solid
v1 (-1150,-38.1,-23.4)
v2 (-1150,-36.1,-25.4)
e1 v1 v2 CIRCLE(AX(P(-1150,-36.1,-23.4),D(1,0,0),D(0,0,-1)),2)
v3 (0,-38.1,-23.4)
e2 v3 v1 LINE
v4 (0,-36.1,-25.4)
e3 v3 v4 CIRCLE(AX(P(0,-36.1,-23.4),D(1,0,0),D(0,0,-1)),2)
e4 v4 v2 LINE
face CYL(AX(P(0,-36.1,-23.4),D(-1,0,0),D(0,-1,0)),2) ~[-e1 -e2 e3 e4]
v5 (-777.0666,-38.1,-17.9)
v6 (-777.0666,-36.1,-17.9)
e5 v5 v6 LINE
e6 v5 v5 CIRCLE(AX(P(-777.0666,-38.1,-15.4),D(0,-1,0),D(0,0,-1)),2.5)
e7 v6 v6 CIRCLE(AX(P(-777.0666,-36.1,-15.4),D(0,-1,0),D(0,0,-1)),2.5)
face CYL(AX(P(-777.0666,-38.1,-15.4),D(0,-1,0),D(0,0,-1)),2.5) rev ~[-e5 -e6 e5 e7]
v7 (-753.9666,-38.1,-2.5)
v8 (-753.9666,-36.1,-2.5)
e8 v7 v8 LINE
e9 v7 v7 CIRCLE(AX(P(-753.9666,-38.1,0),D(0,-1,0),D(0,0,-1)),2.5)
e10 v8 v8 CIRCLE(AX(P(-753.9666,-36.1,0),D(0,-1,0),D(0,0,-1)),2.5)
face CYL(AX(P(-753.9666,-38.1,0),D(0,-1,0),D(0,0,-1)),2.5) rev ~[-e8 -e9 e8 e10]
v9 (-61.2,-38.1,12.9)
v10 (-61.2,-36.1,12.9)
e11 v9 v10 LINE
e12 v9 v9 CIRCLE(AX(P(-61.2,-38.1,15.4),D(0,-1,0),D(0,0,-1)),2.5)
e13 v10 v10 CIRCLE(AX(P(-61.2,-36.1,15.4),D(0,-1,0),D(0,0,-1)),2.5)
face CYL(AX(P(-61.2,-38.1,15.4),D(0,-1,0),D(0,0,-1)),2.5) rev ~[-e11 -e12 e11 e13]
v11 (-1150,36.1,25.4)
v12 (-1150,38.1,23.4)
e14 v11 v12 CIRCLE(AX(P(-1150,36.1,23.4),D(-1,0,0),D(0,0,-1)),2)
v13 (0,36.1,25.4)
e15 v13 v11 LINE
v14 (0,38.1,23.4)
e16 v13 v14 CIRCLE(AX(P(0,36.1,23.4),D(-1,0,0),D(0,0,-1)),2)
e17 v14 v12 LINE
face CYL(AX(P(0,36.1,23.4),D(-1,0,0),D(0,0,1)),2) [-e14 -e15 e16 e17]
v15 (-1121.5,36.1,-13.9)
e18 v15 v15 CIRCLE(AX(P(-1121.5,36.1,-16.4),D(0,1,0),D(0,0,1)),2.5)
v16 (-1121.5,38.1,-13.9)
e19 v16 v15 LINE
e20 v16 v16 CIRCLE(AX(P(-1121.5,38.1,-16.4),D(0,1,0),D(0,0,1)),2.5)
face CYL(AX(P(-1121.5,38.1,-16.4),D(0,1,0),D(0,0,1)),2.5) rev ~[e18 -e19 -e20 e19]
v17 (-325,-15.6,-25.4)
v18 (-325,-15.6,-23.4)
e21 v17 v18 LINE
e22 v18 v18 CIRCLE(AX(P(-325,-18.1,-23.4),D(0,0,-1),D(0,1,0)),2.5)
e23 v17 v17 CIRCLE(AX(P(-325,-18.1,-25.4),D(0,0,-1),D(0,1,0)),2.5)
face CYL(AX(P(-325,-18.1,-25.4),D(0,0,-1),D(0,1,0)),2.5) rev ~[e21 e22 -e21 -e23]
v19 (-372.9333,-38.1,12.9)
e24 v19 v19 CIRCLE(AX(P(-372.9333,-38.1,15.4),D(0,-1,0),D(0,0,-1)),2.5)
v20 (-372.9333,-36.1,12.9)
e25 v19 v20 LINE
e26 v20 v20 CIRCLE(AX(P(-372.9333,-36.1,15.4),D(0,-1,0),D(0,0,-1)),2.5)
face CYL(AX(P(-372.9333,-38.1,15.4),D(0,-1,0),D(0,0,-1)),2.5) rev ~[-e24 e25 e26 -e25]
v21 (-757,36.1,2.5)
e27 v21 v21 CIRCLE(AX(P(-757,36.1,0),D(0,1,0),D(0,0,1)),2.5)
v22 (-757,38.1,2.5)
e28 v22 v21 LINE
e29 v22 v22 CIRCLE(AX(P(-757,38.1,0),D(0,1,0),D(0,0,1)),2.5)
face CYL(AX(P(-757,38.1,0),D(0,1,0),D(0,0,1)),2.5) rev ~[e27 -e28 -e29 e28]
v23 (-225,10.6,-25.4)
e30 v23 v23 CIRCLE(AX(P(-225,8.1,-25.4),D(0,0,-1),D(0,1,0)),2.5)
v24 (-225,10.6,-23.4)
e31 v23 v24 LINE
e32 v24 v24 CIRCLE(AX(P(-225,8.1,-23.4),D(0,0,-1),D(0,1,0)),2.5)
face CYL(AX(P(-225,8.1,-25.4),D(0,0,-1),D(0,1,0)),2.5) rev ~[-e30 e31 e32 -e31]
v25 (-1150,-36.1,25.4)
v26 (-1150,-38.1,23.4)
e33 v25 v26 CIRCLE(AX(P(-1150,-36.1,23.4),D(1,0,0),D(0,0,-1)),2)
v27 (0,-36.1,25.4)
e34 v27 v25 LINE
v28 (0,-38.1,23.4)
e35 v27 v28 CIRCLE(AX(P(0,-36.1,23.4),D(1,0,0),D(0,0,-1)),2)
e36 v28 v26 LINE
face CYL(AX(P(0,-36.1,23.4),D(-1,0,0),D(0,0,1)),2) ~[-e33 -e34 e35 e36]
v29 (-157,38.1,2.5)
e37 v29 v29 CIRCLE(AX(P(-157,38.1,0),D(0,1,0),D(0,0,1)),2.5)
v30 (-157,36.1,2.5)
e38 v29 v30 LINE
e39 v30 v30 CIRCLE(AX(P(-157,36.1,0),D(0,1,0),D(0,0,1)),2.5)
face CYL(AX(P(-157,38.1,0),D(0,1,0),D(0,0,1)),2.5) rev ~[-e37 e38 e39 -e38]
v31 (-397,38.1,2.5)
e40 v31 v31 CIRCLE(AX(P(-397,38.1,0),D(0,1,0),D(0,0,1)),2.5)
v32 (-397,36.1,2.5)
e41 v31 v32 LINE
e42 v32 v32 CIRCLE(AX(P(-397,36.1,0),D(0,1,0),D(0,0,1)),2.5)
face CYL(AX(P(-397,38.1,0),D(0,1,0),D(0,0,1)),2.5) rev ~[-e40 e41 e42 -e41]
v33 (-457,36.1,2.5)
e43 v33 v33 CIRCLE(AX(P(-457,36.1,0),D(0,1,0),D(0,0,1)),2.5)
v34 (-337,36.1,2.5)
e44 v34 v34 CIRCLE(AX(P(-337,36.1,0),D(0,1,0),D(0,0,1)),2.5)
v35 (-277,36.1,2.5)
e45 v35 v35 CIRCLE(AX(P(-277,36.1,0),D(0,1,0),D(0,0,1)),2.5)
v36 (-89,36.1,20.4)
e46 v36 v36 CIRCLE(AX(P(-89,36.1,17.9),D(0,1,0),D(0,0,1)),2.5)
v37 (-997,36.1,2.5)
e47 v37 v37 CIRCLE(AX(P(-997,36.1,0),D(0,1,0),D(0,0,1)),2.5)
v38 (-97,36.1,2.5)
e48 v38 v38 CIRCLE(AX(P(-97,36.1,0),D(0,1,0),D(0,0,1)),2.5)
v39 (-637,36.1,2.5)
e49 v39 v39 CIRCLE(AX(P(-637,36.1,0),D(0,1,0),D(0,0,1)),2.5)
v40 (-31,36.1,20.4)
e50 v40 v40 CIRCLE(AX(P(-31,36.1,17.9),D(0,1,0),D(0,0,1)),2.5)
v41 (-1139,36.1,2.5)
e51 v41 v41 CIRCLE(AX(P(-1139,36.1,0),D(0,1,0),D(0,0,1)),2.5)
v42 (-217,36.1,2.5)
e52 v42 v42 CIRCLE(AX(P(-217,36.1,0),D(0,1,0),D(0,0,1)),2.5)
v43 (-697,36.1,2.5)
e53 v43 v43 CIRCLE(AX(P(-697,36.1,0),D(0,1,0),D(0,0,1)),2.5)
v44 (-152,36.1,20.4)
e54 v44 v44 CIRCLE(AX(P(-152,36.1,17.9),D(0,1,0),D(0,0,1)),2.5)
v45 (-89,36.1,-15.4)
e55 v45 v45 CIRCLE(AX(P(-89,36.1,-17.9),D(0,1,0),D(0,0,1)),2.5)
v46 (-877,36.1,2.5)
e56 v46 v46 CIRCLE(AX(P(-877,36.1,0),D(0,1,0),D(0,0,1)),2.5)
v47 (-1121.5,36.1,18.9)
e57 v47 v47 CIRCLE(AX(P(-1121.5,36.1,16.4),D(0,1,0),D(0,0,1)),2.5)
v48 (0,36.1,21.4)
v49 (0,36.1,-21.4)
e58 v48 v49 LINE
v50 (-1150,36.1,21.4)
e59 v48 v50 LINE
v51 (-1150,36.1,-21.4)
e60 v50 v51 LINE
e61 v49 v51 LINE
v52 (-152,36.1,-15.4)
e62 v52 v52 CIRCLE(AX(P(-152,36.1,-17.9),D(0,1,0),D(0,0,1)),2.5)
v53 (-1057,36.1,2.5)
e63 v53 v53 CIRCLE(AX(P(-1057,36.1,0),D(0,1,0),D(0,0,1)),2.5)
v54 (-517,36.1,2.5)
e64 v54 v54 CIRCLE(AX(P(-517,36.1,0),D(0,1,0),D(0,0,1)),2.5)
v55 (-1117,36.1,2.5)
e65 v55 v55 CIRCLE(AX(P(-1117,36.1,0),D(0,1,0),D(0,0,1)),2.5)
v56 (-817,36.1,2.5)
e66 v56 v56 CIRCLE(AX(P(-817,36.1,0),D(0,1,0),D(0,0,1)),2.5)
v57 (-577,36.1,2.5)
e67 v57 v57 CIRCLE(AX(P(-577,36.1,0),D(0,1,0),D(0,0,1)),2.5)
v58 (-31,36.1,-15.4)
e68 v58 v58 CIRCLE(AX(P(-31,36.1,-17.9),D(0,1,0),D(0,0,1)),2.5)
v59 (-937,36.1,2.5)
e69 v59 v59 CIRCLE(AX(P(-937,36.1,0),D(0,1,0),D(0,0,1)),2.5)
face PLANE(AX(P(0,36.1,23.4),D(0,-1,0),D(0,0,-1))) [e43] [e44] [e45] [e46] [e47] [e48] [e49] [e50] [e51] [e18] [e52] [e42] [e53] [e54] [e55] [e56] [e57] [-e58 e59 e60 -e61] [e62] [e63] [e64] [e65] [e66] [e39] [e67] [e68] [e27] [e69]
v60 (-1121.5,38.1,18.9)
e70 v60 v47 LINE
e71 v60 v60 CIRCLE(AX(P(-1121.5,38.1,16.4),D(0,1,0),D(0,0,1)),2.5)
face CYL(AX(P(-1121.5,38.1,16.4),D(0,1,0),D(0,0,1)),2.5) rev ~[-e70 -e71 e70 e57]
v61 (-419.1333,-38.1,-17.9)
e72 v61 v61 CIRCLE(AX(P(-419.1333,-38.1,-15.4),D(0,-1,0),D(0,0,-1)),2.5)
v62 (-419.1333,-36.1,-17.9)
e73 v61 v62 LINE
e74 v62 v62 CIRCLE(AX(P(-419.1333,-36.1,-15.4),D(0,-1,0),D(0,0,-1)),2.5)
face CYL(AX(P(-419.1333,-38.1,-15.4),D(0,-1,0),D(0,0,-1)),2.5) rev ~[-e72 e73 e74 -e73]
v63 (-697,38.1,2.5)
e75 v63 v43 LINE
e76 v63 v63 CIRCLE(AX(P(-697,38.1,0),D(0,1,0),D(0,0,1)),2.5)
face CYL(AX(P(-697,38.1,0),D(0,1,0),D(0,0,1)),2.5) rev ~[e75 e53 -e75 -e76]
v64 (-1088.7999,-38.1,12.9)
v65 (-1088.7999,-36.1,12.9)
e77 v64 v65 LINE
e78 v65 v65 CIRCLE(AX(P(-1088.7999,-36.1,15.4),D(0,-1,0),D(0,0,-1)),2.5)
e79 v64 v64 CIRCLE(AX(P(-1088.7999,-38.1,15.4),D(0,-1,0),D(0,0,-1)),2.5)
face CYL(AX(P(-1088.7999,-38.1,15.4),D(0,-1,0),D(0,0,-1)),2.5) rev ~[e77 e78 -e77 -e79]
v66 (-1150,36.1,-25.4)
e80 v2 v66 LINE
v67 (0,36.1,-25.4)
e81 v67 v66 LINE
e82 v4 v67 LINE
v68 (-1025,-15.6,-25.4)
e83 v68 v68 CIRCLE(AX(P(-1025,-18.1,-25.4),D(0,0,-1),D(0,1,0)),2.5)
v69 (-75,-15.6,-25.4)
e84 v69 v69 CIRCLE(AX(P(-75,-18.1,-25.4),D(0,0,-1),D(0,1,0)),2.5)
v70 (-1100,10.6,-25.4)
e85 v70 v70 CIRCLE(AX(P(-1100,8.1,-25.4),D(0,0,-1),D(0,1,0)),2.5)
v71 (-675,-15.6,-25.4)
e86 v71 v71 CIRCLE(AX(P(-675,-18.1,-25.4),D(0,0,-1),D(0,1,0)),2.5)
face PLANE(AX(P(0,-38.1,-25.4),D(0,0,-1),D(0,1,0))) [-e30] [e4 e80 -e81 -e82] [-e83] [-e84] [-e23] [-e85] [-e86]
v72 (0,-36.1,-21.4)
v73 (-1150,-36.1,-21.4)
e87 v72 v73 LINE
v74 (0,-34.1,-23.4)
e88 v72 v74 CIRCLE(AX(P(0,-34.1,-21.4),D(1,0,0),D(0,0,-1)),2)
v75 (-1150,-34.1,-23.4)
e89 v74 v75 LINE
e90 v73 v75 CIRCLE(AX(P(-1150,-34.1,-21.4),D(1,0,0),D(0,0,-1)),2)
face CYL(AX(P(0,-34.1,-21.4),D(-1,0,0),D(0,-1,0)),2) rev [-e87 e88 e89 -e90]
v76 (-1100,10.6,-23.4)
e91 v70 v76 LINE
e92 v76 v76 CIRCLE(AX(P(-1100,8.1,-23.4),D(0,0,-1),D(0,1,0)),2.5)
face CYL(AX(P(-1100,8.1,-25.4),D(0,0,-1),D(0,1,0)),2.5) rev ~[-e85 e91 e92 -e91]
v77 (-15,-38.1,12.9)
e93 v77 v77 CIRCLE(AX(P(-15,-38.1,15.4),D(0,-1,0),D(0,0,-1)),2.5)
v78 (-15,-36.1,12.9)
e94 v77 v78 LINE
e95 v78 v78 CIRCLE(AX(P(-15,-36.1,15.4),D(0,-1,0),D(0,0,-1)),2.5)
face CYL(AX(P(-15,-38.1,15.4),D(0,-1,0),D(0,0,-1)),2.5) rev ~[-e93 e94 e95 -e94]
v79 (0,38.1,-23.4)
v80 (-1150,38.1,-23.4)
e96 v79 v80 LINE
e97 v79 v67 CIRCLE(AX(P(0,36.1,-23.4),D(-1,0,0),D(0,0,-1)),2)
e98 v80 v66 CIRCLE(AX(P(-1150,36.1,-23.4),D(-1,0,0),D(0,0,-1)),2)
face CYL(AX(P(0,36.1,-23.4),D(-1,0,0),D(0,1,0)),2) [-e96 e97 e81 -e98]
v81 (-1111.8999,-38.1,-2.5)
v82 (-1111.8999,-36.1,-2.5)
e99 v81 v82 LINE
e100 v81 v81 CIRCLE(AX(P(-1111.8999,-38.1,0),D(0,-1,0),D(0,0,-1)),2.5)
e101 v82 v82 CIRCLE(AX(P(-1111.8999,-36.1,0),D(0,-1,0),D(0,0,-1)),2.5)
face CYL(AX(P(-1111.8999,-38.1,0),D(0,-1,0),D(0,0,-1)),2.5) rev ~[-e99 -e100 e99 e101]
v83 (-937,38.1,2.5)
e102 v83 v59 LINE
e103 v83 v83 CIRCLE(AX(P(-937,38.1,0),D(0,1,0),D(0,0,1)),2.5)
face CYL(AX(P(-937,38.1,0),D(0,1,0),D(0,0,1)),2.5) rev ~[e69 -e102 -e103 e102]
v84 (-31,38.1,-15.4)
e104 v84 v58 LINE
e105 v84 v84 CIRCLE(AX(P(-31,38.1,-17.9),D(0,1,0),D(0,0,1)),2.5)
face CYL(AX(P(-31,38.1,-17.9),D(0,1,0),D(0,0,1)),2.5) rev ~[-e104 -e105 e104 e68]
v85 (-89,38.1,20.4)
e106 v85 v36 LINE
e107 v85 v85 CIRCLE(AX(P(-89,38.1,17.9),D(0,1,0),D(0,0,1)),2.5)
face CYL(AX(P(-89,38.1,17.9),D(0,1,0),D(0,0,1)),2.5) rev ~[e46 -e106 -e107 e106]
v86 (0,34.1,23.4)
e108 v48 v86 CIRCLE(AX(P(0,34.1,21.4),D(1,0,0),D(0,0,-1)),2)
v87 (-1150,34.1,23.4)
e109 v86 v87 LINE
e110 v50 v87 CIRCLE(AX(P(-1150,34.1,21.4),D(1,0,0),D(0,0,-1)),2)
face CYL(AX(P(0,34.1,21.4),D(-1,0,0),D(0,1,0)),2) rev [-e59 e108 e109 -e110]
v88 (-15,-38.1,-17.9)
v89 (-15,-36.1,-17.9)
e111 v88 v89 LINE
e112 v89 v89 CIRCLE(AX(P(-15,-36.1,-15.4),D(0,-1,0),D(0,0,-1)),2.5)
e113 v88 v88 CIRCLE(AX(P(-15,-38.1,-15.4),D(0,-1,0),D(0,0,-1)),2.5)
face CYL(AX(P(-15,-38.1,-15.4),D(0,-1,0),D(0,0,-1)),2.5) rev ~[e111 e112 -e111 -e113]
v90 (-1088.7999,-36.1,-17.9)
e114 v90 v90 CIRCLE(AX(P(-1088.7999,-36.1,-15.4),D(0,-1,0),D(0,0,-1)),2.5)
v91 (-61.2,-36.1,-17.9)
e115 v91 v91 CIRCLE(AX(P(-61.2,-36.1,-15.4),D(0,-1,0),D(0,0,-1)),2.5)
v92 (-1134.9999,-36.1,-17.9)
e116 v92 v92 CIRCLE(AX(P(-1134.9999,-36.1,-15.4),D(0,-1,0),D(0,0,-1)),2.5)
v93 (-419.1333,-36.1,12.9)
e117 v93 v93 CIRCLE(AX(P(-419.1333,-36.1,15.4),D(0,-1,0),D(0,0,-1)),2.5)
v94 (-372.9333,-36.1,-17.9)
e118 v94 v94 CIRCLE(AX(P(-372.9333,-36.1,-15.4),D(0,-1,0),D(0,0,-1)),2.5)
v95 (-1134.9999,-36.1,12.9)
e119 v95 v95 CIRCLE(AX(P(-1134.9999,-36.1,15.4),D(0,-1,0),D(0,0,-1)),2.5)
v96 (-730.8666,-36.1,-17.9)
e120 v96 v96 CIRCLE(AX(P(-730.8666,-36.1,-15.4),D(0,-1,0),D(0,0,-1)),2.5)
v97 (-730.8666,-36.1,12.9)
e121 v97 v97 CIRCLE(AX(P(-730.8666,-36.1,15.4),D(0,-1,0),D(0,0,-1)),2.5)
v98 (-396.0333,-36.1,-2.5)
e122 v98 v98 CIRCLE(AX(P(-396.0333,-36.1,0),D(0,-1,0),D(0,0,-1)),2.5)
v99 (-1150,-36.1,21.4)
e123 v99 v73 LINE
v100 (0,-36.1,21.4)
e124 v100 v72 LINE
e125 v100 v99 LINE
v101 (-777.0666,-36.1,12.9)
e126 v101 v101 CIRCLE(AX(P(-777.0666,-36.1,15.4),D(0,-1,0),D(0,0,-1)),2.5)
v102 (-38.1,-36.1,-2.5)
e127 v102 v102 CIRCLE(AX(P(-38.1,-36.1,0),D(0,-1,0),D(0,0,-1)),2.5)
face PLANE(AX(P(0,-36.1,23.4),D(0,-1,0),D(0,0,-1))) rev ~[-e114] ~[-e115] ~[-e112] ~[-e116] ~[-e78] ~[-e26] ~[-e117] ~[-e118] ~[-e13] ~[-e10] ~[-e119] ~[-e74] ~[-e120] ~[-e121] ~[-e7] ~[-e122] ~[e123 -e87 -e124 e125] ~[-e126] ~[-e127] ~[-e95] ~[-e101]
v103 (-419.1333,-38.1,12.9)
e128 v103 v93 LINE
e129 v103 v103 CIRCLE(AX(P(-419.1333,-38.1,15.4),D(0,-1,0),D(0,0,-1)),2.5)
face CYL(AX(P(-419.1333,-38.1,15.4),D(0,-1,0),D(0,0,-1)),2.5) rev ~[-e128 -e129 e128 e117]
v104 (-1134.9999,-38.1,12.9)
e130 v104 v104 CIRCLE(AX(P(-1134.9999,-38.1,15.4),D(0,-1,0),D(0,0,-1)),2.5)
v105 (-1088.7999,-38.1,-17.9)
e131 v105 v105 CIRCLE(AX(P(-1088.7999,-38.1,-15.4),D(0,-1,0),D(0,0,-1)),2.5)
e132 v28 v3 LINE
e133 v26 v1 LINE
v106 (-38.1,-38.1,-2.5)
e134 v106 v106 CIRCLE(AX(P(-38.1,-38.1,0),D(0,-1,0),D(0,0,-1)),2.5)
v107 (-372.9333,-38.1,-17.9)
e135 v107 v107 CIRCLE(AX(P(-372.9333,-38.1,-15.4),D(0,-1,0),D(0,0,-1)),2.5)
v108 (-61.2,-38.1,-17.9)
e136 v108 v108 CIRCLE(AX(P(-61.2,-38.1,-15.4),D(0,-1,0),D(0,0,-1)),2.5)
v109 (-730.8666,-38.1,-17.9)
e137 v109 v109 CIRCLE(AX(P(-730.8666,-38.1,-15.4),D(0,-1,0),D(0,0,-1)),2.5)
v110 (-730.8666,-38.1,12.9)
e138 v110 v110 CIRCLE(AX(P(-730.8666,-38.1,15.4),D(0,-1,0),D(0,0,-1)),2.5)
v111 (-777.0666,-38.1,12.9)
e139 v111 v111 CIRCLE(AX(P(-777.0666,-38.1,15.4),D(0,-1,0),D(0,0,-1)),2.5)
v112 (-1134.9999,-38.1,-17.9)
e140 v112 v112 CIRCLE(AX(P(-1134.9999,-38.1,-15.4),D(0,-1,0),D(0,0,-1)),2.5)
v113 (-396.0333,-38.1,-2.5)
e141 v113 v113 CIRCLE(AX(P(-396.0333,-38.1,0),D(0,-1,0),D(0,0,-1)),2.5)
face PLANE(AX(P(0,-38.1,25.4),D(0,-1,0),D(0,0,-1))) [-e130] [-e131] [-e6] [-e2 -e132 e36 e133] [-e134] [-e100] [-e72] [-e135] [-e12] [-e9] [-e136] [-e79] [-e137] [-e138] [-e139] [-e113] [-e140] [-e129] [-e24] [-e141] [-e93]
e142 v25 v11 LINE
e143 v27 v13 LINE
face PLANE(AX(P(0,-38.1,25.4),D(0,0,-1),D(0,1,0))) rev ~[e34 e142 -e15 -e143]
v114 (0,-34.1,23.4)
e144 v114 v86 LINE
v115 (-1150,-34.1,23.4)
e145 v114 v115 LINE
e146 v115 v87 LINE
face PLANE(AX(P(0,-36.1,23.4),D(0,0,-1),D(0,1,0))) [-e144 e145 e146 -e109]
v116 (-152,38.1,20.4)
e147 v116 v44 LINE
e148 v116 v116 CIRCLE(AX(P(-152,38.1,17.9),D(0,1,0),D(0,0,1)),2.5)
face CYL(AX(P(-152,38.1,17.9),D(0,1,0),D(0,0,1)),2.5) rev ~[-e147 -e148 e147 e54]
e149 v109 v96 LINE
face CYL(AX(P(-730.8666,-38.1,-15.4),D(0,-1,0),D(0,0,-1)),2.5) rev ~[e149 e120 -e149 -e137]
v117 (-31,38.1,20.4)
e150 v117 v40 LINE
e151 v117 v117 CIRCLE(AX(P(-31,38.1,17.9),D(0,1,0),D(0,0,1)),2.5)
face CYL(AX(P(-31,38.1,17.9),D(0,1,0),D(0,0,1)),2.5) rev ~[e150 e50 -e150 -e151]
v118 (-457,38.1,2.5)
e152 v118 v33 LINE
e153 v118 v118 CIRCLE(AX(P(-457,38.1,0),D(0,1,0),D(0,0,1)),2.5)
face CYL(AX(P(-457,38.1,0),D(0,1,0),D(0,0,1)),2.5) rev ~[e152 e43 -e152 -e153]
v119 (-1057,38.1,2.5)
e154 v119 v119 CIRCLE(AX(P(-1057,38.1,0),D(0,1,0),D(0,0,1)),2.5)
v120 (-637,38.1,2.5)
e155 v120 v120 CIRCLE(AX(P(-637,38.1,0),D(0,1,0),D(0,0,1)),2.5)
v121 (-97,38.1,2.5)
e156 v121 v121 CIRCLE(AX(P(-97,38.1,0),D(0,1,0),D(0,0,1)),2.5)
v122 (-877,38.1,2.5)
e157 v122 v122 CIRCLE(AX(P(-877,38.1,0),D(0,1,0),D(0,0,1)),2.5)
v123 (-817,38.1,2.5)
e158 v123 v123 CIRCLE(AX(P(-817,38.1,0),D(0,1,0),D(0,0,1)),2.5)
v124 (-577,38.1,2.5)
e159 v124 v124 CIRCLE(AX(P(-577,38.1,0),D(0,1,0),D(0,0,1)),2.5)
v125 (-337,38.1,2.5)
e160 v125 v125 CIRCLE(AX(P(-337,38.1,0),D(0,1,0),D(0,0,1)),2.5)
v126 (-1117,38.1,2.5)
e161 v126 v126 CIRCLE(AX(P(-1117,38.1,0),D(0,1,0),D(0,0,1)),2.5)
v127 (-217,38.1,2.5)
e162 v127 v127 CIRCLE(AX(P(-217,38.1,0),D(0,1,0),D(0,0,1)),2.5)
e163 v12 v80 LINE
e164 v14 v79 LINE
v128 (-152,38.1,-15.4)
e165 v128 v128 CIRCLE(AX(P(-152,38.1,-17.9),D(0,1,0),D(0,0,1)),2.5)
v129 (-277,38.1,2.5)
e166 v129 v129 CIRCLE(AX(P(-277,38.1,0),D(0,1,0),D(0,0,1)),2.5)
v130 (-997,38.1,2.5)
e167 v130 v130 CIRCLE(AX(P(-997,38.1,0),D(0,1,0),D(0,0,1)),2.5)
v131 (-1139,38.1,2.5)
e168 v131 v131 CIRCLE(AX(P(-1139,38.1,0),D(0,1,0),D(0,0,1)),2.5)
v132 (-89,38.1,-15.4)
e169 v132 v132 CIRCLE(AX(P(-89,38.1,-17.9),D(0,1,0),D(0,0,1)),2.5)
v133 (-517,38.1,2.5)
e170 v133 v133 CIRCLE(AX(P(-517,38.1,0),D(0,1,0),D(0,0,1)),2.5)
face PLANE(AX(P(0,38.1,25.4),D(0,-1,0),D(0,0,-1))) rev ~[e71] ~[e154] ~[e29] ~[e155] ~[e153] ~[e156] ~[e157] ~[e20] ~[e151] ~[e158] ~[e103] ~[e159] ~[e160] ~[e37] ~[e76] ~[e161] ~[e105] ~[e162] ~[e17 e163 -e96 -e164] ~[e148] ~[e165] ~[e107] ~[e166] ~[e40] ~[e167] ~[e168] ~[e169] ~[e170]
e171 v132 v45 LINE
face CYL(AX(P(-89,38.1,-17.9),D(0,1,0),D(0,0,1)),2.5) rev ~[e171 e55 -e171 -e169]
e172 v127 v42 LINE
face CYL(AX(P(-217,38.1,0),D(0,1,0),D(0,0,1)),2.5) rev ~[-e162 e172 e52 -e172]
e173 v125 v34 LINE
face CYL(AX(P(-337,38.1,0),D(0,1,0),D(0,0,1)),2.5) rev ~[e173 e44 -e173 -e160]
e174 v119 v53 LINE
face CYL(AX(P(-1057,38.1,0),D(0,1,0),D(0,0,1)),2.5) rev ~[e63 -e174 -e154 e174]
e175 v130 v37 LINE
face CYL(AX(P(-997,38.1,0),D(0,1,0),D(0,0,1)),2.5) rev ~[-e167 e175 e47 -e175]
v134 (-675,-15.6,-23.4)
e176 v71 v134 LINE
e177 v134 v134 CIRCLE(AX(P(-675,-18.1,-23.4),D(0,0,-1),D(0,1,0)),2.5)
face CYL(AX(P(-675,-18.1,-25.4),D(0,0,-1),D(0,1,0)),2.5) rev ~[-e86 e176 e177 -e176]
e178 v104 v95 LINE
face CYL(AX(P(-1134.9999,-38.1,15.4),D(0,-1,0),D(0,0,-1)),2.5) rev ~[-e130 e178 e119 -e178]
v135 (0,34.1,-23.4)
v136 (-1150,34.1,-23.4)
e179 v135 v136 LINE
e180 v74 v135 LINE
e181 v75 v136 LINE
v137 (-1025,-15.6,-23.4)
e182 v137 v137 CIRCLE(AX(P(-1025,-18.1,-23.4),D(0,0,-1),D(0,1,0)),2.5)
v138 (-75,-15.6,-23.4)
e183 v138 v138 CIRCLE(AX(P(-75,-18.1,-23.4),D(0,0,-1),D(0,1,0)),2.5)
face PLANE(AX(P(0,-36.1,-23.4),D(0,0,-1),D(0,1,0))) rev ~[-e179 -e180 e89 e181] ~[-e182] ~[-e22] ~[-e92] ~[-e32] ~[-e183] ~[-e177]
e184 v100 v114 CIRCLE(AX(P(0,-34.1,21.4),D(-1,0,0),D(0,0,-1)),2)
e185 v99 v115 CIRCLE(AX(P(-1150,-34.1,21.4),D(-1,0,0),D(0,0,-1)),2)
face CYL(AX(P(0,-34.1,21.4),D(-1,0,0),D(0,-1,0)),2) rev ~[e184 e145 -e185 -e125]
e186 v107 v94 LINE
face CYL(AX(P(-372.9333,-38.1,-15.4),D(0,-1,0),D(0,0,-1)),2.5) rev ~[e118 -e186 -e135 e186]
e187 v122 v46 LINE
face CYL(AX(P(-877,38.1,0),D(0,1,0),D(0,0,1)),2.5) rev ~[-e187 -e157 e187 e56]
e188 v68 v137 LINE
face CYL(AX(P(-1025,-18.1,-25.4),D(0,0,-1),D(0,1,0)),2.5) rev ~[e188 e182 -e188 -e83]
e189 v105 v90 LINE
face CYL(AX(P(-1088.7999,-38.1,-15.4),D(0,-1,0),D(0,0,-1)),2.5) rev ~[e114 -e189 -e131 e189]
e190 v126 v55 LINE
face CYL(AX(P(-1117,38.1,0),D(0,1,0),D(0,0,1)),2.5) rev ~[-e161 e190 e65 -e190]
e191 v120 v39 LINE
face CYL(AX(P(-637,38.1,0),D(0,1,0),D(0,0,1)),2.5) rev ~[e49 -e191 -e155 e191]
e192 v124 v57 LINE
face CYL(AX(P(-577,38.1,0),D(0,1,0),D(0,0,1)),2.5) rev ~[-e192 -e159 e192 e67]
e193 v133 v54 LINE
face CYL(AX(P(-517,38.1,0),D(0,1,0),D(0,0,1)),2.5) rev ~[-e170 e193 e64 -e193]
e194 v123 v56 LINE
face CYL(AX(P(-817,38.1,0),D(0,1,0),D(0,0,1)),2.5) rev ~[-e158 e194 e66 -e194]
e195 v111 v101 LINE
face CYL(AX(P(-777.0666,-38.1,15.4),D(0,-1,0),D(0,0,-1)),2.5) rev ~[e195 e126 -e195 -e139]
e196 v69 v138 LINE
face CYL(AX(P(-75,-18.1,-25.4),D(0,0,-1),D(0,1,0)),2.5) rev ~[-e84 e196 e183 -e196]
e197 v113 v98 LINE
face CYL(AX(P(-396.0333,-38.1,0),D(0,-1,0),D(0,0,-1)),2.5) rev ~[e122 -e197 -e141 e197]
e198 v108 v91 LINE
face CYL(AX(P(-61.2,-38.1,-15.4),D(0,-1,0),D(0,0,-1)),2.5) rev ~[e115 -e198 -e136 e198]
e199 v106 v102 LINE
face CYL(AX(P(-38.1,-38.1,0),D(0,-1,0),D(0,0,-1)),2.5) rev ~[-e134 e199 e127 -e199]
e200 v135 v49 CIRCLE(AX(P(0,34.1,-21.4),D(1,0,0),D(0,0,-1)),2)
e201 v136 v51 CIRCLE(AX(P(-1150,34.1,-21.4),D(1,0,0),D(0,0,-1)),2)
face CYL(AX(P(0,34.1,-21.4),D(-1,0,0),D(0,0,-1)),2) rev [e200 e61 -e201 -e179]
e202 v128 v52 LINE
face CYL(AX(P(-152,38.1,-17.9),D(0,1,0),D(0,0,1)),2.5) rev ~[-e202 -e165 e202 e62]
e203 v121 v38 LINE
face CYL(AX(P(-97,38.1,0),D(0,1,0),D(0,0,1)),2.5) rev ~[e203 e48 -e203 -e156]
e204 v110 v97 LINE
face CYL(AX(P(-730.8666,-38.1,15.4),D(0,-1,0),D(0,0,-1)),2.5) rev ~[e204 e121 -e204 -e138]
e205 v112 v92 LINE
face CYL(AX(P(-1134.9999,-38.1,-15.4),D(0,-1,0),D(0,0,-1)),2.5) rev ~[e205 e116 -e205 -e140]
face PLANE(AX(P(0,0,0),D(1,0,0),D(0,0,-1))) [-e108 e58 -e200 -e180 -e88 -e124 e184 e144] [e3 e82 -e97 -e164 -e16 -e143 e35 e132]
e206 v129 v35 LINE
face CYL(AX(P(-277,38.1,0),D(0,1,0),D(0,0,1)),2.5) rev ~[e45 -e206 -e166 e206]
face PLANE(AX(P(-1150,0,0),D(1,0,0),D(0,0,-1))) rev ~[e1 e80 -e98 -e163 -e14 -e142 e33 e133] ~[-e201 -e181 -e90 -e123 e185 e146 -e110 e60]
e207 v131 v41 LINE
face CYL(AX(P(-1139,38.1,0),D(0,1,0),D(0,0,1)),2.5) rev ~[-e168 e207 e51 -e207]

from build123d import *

# Parameters (mm, degrees)
SKETCH1_W             = 50.8
SKETCH1_H             = 76.2
BOSS_EXTRUDE1_DEPTH   = 1150
SKETCH2_W             = 46.8
SKETCH2_H             = 72.2
CUT_EXTRUDE1_DEPTH    = 1151.911278075
FILLET2_R             = 2
CROQUIS1_R            = 2.5
CORTAR_EXTRUIR1_DEPTH = 5
MATRIZL1_COUNT        = 4
MATRIZL1_PITCH        = 357.9333
CROQUIS2_R            = 2.5
CORTAR_EXTRUIR2_DEPTH = 10
CROQUIS3_R            = 2.5
CORTAR_EXTRUIR3_DEPTH = 10
CROQUIS4_R            = 2.5
CORTAR_EXTRUIR4_DEPTH = 10
MATRIZL2_COUNT        = 18
MATRIZL2_PITCH        = 60
CROQUIS5_R            = 2.5
CORTAR_EXTRUIR5_DEPTH = 10


with BuildPart() as part:
    # Sketch1 → Boss-Extrude1 (new body)
    with BuildSketch(Plane(origin=(0, 0, 0), x_dir=(0, 0, -1), z_dir=(1, 0, 0))):
        Rectangle(SKETCH1_W, SKETCH1_H)
    extrude(amount=-BOSS_EXTRUDE1_DEPTH)

    # Sketch2 → Cut-Extrude1 (cut, through all)
    with BuildSketch(Plane(origin=(0, 0, 0), x_dir=(0, 0, -1), z_dir=(1, 0, 0))):
        Rectangle(SKETCH2_W, SKETCH2_H)
    extrude(amount=-CUT_EXTRUDE1_DEPTH, mode=Mode.SUBTRACT)

    # Fillet2
    fillet2_edges = [part.edges().sort_by_distance(p)[0] for p in [
        (-575, -36.1, 23.4),
        (-575, 36.1, 23.4),
        (-575, 36.1, -23.4),
        (-575, -36.1, -23.4),
        (-575, 38.1, 25.4),
        (-575, 38.1, -25.4),
        (-575, -38.1, -25.4),
        (-575, -38.1, 25.4),
    ]]
    fillet(fillet2_edges, radius=FILLET2_R)

    # Croquis1 → Cortar-Extruir1 (cut)
    with BuildSketch(Plane.XZ.offset(38.1)):
        with Locations(Location((-38.1, 0, 0), (0, 0, 270))):
            Circle(CROQUIS1_R)
        with Locations(Location((-61.2, 15.4, 0), (0, 0, 270))):
            Circle(CROQUIS1_R)
        with Locations(Location((-15, 15.4, 0), (0, 0, 270))):
            Circle(CROQUIS1_R)
        with Locations(Location((-15, -15.4, 0), (0, 0, 270))):
            Circle(CROQUIS1_R)
        with Locations(Location((-61.2, -15.4, 0), (0, 0, 270))):
            Circle(CROQUIS1_R)
    cortar_extruir1 = extrude(amount=-CORTAR_EXTRUIR1_DEPTH, mode=Mode.SUBTRACT)

    # MatrizL1: Cortar-Extruir1 ×4
    with Locations(*[(-i * MATRIZL1_PITCH, 0, 0) for i in range(1, MATRIZL1_COUNT)]):
        add(cortar_extruir1, mode=Mode.SUBTRACT)

    # Croquis2 → Cortar-Extruir2 (cut)
    with BuildSketch(Plane(origin=(0, 0, -25.4), x_dir=(-1, 0, 0), z_dir=(0, 0, -1))):
        with Locations(Location((1100, 8.1, 0), (0, 0, 90))):
            Circle(CROQUIS2_R)
        with Locations(Location((225, 8.1, 0), (0, 0, 90))):
            Circle(CROQUIS2_R)
        with Locations(Location((75, -18.1, 0), (0, 0, 90))):
            Circle(CROQUIS2_R)
        with Locations(Location((325, -18.1, 0), (0, 0, 90))):
            Circle(CROQUIS2_R)
        with Locations(Location((675, -18.1, 0), (0, 0, 90))):
            Circle(CROQUIS2_R)
        with Locations(Location((1025, -18.1, 0), (0, 0, 90))):
            Circle(CROQUIS2_R)
    extrude(amount=-CORTAR_EXTRUIR2_DEPTH, mode=Mode.SUBTRACT)

    # Croquis3 → Cortar-Extruir3 (cut)
    with BuildSketch(Plane(origin=(0, 38.1, 0), x_dir=(1, 0, 0), z_dir=(0, 1, 0))):
        with Locations(Location((-31, 17.9, 0), (0, 0, 270))):
            Circle(CROQUIS3_R)
        with Locations(Location((-89, 17.9, 0), (0, 0, 270))):
            Circle(CROQUIS3_R)
        with Locations(Location((-152, 17.9, 0), (0, 0, 270))):
            Circle(CROQUIS3_R)
        with Locations(Location((-152, -17.9, 0), (0, 0, 270))):
            Circle(CROQUIS3_R)
        with Locations(Location((-89, -17.9, 0), (0, 0, 270))):
            Circle(CROQUIS3_R)
        with Locations(Location((-31, -17.9, 0), (0, 0, 270))):
            Circle(CROQUIS3_R)
    extrude(amount=-CORTAR_EXTRUIR3_DEPTH, mode=Mode.SUBTRACT)

    # Croquis4 → Cortar-Extruir4 (cut)
    with BuildSketch(Plane(origin=(0, 38.1, 0), x_dir=(1, 0, 0), z_dir=(0, 1, 0))):
        with Locations(Location((-1117, 0, 0), (0, 0, 270))):
            Circle(CROQUIS4_R)
    cortar_extruir4 = extrude(amount=-CORTAR_EXTRUIR4_DEPTH, mode=Mode.SUBTRACT)

    # MatrizL2: Cortar-Extruir4 ×18
    with Locations(*[(i * MATRIZL2_PITCH, 0, 0) for i in range(1, MATRIZL2_COUNT)]):
        add(cortar_extruir4, mode=Mode.SUBTRACT)

    # Croquis5 → Cortar-Extruir5 (cut)
    with BuildSketch(Plane(origin=(0, 38.1, 0), x_dir=(1, 0, 0), z_dir=(0, 1, 0))):
        with Locations(Location((-1121.5, 16.4, 0), (0, 0, 270))):
            Circle(CROQUIS5_R)
        with Locations(Location((-1121.5, -16.4, 0), (0, 0, 270))):
            Circle(CROQUIS5_R)
        with Locations(Location((-1139, 0, 0), (0, 0, 270))):
            Circle(CROQUIS5_R)
    extrude(amount=-CORTAR_EXTRUIR5_DEPTH, mode=Mode.SUBTRACT)


solid = part.part
